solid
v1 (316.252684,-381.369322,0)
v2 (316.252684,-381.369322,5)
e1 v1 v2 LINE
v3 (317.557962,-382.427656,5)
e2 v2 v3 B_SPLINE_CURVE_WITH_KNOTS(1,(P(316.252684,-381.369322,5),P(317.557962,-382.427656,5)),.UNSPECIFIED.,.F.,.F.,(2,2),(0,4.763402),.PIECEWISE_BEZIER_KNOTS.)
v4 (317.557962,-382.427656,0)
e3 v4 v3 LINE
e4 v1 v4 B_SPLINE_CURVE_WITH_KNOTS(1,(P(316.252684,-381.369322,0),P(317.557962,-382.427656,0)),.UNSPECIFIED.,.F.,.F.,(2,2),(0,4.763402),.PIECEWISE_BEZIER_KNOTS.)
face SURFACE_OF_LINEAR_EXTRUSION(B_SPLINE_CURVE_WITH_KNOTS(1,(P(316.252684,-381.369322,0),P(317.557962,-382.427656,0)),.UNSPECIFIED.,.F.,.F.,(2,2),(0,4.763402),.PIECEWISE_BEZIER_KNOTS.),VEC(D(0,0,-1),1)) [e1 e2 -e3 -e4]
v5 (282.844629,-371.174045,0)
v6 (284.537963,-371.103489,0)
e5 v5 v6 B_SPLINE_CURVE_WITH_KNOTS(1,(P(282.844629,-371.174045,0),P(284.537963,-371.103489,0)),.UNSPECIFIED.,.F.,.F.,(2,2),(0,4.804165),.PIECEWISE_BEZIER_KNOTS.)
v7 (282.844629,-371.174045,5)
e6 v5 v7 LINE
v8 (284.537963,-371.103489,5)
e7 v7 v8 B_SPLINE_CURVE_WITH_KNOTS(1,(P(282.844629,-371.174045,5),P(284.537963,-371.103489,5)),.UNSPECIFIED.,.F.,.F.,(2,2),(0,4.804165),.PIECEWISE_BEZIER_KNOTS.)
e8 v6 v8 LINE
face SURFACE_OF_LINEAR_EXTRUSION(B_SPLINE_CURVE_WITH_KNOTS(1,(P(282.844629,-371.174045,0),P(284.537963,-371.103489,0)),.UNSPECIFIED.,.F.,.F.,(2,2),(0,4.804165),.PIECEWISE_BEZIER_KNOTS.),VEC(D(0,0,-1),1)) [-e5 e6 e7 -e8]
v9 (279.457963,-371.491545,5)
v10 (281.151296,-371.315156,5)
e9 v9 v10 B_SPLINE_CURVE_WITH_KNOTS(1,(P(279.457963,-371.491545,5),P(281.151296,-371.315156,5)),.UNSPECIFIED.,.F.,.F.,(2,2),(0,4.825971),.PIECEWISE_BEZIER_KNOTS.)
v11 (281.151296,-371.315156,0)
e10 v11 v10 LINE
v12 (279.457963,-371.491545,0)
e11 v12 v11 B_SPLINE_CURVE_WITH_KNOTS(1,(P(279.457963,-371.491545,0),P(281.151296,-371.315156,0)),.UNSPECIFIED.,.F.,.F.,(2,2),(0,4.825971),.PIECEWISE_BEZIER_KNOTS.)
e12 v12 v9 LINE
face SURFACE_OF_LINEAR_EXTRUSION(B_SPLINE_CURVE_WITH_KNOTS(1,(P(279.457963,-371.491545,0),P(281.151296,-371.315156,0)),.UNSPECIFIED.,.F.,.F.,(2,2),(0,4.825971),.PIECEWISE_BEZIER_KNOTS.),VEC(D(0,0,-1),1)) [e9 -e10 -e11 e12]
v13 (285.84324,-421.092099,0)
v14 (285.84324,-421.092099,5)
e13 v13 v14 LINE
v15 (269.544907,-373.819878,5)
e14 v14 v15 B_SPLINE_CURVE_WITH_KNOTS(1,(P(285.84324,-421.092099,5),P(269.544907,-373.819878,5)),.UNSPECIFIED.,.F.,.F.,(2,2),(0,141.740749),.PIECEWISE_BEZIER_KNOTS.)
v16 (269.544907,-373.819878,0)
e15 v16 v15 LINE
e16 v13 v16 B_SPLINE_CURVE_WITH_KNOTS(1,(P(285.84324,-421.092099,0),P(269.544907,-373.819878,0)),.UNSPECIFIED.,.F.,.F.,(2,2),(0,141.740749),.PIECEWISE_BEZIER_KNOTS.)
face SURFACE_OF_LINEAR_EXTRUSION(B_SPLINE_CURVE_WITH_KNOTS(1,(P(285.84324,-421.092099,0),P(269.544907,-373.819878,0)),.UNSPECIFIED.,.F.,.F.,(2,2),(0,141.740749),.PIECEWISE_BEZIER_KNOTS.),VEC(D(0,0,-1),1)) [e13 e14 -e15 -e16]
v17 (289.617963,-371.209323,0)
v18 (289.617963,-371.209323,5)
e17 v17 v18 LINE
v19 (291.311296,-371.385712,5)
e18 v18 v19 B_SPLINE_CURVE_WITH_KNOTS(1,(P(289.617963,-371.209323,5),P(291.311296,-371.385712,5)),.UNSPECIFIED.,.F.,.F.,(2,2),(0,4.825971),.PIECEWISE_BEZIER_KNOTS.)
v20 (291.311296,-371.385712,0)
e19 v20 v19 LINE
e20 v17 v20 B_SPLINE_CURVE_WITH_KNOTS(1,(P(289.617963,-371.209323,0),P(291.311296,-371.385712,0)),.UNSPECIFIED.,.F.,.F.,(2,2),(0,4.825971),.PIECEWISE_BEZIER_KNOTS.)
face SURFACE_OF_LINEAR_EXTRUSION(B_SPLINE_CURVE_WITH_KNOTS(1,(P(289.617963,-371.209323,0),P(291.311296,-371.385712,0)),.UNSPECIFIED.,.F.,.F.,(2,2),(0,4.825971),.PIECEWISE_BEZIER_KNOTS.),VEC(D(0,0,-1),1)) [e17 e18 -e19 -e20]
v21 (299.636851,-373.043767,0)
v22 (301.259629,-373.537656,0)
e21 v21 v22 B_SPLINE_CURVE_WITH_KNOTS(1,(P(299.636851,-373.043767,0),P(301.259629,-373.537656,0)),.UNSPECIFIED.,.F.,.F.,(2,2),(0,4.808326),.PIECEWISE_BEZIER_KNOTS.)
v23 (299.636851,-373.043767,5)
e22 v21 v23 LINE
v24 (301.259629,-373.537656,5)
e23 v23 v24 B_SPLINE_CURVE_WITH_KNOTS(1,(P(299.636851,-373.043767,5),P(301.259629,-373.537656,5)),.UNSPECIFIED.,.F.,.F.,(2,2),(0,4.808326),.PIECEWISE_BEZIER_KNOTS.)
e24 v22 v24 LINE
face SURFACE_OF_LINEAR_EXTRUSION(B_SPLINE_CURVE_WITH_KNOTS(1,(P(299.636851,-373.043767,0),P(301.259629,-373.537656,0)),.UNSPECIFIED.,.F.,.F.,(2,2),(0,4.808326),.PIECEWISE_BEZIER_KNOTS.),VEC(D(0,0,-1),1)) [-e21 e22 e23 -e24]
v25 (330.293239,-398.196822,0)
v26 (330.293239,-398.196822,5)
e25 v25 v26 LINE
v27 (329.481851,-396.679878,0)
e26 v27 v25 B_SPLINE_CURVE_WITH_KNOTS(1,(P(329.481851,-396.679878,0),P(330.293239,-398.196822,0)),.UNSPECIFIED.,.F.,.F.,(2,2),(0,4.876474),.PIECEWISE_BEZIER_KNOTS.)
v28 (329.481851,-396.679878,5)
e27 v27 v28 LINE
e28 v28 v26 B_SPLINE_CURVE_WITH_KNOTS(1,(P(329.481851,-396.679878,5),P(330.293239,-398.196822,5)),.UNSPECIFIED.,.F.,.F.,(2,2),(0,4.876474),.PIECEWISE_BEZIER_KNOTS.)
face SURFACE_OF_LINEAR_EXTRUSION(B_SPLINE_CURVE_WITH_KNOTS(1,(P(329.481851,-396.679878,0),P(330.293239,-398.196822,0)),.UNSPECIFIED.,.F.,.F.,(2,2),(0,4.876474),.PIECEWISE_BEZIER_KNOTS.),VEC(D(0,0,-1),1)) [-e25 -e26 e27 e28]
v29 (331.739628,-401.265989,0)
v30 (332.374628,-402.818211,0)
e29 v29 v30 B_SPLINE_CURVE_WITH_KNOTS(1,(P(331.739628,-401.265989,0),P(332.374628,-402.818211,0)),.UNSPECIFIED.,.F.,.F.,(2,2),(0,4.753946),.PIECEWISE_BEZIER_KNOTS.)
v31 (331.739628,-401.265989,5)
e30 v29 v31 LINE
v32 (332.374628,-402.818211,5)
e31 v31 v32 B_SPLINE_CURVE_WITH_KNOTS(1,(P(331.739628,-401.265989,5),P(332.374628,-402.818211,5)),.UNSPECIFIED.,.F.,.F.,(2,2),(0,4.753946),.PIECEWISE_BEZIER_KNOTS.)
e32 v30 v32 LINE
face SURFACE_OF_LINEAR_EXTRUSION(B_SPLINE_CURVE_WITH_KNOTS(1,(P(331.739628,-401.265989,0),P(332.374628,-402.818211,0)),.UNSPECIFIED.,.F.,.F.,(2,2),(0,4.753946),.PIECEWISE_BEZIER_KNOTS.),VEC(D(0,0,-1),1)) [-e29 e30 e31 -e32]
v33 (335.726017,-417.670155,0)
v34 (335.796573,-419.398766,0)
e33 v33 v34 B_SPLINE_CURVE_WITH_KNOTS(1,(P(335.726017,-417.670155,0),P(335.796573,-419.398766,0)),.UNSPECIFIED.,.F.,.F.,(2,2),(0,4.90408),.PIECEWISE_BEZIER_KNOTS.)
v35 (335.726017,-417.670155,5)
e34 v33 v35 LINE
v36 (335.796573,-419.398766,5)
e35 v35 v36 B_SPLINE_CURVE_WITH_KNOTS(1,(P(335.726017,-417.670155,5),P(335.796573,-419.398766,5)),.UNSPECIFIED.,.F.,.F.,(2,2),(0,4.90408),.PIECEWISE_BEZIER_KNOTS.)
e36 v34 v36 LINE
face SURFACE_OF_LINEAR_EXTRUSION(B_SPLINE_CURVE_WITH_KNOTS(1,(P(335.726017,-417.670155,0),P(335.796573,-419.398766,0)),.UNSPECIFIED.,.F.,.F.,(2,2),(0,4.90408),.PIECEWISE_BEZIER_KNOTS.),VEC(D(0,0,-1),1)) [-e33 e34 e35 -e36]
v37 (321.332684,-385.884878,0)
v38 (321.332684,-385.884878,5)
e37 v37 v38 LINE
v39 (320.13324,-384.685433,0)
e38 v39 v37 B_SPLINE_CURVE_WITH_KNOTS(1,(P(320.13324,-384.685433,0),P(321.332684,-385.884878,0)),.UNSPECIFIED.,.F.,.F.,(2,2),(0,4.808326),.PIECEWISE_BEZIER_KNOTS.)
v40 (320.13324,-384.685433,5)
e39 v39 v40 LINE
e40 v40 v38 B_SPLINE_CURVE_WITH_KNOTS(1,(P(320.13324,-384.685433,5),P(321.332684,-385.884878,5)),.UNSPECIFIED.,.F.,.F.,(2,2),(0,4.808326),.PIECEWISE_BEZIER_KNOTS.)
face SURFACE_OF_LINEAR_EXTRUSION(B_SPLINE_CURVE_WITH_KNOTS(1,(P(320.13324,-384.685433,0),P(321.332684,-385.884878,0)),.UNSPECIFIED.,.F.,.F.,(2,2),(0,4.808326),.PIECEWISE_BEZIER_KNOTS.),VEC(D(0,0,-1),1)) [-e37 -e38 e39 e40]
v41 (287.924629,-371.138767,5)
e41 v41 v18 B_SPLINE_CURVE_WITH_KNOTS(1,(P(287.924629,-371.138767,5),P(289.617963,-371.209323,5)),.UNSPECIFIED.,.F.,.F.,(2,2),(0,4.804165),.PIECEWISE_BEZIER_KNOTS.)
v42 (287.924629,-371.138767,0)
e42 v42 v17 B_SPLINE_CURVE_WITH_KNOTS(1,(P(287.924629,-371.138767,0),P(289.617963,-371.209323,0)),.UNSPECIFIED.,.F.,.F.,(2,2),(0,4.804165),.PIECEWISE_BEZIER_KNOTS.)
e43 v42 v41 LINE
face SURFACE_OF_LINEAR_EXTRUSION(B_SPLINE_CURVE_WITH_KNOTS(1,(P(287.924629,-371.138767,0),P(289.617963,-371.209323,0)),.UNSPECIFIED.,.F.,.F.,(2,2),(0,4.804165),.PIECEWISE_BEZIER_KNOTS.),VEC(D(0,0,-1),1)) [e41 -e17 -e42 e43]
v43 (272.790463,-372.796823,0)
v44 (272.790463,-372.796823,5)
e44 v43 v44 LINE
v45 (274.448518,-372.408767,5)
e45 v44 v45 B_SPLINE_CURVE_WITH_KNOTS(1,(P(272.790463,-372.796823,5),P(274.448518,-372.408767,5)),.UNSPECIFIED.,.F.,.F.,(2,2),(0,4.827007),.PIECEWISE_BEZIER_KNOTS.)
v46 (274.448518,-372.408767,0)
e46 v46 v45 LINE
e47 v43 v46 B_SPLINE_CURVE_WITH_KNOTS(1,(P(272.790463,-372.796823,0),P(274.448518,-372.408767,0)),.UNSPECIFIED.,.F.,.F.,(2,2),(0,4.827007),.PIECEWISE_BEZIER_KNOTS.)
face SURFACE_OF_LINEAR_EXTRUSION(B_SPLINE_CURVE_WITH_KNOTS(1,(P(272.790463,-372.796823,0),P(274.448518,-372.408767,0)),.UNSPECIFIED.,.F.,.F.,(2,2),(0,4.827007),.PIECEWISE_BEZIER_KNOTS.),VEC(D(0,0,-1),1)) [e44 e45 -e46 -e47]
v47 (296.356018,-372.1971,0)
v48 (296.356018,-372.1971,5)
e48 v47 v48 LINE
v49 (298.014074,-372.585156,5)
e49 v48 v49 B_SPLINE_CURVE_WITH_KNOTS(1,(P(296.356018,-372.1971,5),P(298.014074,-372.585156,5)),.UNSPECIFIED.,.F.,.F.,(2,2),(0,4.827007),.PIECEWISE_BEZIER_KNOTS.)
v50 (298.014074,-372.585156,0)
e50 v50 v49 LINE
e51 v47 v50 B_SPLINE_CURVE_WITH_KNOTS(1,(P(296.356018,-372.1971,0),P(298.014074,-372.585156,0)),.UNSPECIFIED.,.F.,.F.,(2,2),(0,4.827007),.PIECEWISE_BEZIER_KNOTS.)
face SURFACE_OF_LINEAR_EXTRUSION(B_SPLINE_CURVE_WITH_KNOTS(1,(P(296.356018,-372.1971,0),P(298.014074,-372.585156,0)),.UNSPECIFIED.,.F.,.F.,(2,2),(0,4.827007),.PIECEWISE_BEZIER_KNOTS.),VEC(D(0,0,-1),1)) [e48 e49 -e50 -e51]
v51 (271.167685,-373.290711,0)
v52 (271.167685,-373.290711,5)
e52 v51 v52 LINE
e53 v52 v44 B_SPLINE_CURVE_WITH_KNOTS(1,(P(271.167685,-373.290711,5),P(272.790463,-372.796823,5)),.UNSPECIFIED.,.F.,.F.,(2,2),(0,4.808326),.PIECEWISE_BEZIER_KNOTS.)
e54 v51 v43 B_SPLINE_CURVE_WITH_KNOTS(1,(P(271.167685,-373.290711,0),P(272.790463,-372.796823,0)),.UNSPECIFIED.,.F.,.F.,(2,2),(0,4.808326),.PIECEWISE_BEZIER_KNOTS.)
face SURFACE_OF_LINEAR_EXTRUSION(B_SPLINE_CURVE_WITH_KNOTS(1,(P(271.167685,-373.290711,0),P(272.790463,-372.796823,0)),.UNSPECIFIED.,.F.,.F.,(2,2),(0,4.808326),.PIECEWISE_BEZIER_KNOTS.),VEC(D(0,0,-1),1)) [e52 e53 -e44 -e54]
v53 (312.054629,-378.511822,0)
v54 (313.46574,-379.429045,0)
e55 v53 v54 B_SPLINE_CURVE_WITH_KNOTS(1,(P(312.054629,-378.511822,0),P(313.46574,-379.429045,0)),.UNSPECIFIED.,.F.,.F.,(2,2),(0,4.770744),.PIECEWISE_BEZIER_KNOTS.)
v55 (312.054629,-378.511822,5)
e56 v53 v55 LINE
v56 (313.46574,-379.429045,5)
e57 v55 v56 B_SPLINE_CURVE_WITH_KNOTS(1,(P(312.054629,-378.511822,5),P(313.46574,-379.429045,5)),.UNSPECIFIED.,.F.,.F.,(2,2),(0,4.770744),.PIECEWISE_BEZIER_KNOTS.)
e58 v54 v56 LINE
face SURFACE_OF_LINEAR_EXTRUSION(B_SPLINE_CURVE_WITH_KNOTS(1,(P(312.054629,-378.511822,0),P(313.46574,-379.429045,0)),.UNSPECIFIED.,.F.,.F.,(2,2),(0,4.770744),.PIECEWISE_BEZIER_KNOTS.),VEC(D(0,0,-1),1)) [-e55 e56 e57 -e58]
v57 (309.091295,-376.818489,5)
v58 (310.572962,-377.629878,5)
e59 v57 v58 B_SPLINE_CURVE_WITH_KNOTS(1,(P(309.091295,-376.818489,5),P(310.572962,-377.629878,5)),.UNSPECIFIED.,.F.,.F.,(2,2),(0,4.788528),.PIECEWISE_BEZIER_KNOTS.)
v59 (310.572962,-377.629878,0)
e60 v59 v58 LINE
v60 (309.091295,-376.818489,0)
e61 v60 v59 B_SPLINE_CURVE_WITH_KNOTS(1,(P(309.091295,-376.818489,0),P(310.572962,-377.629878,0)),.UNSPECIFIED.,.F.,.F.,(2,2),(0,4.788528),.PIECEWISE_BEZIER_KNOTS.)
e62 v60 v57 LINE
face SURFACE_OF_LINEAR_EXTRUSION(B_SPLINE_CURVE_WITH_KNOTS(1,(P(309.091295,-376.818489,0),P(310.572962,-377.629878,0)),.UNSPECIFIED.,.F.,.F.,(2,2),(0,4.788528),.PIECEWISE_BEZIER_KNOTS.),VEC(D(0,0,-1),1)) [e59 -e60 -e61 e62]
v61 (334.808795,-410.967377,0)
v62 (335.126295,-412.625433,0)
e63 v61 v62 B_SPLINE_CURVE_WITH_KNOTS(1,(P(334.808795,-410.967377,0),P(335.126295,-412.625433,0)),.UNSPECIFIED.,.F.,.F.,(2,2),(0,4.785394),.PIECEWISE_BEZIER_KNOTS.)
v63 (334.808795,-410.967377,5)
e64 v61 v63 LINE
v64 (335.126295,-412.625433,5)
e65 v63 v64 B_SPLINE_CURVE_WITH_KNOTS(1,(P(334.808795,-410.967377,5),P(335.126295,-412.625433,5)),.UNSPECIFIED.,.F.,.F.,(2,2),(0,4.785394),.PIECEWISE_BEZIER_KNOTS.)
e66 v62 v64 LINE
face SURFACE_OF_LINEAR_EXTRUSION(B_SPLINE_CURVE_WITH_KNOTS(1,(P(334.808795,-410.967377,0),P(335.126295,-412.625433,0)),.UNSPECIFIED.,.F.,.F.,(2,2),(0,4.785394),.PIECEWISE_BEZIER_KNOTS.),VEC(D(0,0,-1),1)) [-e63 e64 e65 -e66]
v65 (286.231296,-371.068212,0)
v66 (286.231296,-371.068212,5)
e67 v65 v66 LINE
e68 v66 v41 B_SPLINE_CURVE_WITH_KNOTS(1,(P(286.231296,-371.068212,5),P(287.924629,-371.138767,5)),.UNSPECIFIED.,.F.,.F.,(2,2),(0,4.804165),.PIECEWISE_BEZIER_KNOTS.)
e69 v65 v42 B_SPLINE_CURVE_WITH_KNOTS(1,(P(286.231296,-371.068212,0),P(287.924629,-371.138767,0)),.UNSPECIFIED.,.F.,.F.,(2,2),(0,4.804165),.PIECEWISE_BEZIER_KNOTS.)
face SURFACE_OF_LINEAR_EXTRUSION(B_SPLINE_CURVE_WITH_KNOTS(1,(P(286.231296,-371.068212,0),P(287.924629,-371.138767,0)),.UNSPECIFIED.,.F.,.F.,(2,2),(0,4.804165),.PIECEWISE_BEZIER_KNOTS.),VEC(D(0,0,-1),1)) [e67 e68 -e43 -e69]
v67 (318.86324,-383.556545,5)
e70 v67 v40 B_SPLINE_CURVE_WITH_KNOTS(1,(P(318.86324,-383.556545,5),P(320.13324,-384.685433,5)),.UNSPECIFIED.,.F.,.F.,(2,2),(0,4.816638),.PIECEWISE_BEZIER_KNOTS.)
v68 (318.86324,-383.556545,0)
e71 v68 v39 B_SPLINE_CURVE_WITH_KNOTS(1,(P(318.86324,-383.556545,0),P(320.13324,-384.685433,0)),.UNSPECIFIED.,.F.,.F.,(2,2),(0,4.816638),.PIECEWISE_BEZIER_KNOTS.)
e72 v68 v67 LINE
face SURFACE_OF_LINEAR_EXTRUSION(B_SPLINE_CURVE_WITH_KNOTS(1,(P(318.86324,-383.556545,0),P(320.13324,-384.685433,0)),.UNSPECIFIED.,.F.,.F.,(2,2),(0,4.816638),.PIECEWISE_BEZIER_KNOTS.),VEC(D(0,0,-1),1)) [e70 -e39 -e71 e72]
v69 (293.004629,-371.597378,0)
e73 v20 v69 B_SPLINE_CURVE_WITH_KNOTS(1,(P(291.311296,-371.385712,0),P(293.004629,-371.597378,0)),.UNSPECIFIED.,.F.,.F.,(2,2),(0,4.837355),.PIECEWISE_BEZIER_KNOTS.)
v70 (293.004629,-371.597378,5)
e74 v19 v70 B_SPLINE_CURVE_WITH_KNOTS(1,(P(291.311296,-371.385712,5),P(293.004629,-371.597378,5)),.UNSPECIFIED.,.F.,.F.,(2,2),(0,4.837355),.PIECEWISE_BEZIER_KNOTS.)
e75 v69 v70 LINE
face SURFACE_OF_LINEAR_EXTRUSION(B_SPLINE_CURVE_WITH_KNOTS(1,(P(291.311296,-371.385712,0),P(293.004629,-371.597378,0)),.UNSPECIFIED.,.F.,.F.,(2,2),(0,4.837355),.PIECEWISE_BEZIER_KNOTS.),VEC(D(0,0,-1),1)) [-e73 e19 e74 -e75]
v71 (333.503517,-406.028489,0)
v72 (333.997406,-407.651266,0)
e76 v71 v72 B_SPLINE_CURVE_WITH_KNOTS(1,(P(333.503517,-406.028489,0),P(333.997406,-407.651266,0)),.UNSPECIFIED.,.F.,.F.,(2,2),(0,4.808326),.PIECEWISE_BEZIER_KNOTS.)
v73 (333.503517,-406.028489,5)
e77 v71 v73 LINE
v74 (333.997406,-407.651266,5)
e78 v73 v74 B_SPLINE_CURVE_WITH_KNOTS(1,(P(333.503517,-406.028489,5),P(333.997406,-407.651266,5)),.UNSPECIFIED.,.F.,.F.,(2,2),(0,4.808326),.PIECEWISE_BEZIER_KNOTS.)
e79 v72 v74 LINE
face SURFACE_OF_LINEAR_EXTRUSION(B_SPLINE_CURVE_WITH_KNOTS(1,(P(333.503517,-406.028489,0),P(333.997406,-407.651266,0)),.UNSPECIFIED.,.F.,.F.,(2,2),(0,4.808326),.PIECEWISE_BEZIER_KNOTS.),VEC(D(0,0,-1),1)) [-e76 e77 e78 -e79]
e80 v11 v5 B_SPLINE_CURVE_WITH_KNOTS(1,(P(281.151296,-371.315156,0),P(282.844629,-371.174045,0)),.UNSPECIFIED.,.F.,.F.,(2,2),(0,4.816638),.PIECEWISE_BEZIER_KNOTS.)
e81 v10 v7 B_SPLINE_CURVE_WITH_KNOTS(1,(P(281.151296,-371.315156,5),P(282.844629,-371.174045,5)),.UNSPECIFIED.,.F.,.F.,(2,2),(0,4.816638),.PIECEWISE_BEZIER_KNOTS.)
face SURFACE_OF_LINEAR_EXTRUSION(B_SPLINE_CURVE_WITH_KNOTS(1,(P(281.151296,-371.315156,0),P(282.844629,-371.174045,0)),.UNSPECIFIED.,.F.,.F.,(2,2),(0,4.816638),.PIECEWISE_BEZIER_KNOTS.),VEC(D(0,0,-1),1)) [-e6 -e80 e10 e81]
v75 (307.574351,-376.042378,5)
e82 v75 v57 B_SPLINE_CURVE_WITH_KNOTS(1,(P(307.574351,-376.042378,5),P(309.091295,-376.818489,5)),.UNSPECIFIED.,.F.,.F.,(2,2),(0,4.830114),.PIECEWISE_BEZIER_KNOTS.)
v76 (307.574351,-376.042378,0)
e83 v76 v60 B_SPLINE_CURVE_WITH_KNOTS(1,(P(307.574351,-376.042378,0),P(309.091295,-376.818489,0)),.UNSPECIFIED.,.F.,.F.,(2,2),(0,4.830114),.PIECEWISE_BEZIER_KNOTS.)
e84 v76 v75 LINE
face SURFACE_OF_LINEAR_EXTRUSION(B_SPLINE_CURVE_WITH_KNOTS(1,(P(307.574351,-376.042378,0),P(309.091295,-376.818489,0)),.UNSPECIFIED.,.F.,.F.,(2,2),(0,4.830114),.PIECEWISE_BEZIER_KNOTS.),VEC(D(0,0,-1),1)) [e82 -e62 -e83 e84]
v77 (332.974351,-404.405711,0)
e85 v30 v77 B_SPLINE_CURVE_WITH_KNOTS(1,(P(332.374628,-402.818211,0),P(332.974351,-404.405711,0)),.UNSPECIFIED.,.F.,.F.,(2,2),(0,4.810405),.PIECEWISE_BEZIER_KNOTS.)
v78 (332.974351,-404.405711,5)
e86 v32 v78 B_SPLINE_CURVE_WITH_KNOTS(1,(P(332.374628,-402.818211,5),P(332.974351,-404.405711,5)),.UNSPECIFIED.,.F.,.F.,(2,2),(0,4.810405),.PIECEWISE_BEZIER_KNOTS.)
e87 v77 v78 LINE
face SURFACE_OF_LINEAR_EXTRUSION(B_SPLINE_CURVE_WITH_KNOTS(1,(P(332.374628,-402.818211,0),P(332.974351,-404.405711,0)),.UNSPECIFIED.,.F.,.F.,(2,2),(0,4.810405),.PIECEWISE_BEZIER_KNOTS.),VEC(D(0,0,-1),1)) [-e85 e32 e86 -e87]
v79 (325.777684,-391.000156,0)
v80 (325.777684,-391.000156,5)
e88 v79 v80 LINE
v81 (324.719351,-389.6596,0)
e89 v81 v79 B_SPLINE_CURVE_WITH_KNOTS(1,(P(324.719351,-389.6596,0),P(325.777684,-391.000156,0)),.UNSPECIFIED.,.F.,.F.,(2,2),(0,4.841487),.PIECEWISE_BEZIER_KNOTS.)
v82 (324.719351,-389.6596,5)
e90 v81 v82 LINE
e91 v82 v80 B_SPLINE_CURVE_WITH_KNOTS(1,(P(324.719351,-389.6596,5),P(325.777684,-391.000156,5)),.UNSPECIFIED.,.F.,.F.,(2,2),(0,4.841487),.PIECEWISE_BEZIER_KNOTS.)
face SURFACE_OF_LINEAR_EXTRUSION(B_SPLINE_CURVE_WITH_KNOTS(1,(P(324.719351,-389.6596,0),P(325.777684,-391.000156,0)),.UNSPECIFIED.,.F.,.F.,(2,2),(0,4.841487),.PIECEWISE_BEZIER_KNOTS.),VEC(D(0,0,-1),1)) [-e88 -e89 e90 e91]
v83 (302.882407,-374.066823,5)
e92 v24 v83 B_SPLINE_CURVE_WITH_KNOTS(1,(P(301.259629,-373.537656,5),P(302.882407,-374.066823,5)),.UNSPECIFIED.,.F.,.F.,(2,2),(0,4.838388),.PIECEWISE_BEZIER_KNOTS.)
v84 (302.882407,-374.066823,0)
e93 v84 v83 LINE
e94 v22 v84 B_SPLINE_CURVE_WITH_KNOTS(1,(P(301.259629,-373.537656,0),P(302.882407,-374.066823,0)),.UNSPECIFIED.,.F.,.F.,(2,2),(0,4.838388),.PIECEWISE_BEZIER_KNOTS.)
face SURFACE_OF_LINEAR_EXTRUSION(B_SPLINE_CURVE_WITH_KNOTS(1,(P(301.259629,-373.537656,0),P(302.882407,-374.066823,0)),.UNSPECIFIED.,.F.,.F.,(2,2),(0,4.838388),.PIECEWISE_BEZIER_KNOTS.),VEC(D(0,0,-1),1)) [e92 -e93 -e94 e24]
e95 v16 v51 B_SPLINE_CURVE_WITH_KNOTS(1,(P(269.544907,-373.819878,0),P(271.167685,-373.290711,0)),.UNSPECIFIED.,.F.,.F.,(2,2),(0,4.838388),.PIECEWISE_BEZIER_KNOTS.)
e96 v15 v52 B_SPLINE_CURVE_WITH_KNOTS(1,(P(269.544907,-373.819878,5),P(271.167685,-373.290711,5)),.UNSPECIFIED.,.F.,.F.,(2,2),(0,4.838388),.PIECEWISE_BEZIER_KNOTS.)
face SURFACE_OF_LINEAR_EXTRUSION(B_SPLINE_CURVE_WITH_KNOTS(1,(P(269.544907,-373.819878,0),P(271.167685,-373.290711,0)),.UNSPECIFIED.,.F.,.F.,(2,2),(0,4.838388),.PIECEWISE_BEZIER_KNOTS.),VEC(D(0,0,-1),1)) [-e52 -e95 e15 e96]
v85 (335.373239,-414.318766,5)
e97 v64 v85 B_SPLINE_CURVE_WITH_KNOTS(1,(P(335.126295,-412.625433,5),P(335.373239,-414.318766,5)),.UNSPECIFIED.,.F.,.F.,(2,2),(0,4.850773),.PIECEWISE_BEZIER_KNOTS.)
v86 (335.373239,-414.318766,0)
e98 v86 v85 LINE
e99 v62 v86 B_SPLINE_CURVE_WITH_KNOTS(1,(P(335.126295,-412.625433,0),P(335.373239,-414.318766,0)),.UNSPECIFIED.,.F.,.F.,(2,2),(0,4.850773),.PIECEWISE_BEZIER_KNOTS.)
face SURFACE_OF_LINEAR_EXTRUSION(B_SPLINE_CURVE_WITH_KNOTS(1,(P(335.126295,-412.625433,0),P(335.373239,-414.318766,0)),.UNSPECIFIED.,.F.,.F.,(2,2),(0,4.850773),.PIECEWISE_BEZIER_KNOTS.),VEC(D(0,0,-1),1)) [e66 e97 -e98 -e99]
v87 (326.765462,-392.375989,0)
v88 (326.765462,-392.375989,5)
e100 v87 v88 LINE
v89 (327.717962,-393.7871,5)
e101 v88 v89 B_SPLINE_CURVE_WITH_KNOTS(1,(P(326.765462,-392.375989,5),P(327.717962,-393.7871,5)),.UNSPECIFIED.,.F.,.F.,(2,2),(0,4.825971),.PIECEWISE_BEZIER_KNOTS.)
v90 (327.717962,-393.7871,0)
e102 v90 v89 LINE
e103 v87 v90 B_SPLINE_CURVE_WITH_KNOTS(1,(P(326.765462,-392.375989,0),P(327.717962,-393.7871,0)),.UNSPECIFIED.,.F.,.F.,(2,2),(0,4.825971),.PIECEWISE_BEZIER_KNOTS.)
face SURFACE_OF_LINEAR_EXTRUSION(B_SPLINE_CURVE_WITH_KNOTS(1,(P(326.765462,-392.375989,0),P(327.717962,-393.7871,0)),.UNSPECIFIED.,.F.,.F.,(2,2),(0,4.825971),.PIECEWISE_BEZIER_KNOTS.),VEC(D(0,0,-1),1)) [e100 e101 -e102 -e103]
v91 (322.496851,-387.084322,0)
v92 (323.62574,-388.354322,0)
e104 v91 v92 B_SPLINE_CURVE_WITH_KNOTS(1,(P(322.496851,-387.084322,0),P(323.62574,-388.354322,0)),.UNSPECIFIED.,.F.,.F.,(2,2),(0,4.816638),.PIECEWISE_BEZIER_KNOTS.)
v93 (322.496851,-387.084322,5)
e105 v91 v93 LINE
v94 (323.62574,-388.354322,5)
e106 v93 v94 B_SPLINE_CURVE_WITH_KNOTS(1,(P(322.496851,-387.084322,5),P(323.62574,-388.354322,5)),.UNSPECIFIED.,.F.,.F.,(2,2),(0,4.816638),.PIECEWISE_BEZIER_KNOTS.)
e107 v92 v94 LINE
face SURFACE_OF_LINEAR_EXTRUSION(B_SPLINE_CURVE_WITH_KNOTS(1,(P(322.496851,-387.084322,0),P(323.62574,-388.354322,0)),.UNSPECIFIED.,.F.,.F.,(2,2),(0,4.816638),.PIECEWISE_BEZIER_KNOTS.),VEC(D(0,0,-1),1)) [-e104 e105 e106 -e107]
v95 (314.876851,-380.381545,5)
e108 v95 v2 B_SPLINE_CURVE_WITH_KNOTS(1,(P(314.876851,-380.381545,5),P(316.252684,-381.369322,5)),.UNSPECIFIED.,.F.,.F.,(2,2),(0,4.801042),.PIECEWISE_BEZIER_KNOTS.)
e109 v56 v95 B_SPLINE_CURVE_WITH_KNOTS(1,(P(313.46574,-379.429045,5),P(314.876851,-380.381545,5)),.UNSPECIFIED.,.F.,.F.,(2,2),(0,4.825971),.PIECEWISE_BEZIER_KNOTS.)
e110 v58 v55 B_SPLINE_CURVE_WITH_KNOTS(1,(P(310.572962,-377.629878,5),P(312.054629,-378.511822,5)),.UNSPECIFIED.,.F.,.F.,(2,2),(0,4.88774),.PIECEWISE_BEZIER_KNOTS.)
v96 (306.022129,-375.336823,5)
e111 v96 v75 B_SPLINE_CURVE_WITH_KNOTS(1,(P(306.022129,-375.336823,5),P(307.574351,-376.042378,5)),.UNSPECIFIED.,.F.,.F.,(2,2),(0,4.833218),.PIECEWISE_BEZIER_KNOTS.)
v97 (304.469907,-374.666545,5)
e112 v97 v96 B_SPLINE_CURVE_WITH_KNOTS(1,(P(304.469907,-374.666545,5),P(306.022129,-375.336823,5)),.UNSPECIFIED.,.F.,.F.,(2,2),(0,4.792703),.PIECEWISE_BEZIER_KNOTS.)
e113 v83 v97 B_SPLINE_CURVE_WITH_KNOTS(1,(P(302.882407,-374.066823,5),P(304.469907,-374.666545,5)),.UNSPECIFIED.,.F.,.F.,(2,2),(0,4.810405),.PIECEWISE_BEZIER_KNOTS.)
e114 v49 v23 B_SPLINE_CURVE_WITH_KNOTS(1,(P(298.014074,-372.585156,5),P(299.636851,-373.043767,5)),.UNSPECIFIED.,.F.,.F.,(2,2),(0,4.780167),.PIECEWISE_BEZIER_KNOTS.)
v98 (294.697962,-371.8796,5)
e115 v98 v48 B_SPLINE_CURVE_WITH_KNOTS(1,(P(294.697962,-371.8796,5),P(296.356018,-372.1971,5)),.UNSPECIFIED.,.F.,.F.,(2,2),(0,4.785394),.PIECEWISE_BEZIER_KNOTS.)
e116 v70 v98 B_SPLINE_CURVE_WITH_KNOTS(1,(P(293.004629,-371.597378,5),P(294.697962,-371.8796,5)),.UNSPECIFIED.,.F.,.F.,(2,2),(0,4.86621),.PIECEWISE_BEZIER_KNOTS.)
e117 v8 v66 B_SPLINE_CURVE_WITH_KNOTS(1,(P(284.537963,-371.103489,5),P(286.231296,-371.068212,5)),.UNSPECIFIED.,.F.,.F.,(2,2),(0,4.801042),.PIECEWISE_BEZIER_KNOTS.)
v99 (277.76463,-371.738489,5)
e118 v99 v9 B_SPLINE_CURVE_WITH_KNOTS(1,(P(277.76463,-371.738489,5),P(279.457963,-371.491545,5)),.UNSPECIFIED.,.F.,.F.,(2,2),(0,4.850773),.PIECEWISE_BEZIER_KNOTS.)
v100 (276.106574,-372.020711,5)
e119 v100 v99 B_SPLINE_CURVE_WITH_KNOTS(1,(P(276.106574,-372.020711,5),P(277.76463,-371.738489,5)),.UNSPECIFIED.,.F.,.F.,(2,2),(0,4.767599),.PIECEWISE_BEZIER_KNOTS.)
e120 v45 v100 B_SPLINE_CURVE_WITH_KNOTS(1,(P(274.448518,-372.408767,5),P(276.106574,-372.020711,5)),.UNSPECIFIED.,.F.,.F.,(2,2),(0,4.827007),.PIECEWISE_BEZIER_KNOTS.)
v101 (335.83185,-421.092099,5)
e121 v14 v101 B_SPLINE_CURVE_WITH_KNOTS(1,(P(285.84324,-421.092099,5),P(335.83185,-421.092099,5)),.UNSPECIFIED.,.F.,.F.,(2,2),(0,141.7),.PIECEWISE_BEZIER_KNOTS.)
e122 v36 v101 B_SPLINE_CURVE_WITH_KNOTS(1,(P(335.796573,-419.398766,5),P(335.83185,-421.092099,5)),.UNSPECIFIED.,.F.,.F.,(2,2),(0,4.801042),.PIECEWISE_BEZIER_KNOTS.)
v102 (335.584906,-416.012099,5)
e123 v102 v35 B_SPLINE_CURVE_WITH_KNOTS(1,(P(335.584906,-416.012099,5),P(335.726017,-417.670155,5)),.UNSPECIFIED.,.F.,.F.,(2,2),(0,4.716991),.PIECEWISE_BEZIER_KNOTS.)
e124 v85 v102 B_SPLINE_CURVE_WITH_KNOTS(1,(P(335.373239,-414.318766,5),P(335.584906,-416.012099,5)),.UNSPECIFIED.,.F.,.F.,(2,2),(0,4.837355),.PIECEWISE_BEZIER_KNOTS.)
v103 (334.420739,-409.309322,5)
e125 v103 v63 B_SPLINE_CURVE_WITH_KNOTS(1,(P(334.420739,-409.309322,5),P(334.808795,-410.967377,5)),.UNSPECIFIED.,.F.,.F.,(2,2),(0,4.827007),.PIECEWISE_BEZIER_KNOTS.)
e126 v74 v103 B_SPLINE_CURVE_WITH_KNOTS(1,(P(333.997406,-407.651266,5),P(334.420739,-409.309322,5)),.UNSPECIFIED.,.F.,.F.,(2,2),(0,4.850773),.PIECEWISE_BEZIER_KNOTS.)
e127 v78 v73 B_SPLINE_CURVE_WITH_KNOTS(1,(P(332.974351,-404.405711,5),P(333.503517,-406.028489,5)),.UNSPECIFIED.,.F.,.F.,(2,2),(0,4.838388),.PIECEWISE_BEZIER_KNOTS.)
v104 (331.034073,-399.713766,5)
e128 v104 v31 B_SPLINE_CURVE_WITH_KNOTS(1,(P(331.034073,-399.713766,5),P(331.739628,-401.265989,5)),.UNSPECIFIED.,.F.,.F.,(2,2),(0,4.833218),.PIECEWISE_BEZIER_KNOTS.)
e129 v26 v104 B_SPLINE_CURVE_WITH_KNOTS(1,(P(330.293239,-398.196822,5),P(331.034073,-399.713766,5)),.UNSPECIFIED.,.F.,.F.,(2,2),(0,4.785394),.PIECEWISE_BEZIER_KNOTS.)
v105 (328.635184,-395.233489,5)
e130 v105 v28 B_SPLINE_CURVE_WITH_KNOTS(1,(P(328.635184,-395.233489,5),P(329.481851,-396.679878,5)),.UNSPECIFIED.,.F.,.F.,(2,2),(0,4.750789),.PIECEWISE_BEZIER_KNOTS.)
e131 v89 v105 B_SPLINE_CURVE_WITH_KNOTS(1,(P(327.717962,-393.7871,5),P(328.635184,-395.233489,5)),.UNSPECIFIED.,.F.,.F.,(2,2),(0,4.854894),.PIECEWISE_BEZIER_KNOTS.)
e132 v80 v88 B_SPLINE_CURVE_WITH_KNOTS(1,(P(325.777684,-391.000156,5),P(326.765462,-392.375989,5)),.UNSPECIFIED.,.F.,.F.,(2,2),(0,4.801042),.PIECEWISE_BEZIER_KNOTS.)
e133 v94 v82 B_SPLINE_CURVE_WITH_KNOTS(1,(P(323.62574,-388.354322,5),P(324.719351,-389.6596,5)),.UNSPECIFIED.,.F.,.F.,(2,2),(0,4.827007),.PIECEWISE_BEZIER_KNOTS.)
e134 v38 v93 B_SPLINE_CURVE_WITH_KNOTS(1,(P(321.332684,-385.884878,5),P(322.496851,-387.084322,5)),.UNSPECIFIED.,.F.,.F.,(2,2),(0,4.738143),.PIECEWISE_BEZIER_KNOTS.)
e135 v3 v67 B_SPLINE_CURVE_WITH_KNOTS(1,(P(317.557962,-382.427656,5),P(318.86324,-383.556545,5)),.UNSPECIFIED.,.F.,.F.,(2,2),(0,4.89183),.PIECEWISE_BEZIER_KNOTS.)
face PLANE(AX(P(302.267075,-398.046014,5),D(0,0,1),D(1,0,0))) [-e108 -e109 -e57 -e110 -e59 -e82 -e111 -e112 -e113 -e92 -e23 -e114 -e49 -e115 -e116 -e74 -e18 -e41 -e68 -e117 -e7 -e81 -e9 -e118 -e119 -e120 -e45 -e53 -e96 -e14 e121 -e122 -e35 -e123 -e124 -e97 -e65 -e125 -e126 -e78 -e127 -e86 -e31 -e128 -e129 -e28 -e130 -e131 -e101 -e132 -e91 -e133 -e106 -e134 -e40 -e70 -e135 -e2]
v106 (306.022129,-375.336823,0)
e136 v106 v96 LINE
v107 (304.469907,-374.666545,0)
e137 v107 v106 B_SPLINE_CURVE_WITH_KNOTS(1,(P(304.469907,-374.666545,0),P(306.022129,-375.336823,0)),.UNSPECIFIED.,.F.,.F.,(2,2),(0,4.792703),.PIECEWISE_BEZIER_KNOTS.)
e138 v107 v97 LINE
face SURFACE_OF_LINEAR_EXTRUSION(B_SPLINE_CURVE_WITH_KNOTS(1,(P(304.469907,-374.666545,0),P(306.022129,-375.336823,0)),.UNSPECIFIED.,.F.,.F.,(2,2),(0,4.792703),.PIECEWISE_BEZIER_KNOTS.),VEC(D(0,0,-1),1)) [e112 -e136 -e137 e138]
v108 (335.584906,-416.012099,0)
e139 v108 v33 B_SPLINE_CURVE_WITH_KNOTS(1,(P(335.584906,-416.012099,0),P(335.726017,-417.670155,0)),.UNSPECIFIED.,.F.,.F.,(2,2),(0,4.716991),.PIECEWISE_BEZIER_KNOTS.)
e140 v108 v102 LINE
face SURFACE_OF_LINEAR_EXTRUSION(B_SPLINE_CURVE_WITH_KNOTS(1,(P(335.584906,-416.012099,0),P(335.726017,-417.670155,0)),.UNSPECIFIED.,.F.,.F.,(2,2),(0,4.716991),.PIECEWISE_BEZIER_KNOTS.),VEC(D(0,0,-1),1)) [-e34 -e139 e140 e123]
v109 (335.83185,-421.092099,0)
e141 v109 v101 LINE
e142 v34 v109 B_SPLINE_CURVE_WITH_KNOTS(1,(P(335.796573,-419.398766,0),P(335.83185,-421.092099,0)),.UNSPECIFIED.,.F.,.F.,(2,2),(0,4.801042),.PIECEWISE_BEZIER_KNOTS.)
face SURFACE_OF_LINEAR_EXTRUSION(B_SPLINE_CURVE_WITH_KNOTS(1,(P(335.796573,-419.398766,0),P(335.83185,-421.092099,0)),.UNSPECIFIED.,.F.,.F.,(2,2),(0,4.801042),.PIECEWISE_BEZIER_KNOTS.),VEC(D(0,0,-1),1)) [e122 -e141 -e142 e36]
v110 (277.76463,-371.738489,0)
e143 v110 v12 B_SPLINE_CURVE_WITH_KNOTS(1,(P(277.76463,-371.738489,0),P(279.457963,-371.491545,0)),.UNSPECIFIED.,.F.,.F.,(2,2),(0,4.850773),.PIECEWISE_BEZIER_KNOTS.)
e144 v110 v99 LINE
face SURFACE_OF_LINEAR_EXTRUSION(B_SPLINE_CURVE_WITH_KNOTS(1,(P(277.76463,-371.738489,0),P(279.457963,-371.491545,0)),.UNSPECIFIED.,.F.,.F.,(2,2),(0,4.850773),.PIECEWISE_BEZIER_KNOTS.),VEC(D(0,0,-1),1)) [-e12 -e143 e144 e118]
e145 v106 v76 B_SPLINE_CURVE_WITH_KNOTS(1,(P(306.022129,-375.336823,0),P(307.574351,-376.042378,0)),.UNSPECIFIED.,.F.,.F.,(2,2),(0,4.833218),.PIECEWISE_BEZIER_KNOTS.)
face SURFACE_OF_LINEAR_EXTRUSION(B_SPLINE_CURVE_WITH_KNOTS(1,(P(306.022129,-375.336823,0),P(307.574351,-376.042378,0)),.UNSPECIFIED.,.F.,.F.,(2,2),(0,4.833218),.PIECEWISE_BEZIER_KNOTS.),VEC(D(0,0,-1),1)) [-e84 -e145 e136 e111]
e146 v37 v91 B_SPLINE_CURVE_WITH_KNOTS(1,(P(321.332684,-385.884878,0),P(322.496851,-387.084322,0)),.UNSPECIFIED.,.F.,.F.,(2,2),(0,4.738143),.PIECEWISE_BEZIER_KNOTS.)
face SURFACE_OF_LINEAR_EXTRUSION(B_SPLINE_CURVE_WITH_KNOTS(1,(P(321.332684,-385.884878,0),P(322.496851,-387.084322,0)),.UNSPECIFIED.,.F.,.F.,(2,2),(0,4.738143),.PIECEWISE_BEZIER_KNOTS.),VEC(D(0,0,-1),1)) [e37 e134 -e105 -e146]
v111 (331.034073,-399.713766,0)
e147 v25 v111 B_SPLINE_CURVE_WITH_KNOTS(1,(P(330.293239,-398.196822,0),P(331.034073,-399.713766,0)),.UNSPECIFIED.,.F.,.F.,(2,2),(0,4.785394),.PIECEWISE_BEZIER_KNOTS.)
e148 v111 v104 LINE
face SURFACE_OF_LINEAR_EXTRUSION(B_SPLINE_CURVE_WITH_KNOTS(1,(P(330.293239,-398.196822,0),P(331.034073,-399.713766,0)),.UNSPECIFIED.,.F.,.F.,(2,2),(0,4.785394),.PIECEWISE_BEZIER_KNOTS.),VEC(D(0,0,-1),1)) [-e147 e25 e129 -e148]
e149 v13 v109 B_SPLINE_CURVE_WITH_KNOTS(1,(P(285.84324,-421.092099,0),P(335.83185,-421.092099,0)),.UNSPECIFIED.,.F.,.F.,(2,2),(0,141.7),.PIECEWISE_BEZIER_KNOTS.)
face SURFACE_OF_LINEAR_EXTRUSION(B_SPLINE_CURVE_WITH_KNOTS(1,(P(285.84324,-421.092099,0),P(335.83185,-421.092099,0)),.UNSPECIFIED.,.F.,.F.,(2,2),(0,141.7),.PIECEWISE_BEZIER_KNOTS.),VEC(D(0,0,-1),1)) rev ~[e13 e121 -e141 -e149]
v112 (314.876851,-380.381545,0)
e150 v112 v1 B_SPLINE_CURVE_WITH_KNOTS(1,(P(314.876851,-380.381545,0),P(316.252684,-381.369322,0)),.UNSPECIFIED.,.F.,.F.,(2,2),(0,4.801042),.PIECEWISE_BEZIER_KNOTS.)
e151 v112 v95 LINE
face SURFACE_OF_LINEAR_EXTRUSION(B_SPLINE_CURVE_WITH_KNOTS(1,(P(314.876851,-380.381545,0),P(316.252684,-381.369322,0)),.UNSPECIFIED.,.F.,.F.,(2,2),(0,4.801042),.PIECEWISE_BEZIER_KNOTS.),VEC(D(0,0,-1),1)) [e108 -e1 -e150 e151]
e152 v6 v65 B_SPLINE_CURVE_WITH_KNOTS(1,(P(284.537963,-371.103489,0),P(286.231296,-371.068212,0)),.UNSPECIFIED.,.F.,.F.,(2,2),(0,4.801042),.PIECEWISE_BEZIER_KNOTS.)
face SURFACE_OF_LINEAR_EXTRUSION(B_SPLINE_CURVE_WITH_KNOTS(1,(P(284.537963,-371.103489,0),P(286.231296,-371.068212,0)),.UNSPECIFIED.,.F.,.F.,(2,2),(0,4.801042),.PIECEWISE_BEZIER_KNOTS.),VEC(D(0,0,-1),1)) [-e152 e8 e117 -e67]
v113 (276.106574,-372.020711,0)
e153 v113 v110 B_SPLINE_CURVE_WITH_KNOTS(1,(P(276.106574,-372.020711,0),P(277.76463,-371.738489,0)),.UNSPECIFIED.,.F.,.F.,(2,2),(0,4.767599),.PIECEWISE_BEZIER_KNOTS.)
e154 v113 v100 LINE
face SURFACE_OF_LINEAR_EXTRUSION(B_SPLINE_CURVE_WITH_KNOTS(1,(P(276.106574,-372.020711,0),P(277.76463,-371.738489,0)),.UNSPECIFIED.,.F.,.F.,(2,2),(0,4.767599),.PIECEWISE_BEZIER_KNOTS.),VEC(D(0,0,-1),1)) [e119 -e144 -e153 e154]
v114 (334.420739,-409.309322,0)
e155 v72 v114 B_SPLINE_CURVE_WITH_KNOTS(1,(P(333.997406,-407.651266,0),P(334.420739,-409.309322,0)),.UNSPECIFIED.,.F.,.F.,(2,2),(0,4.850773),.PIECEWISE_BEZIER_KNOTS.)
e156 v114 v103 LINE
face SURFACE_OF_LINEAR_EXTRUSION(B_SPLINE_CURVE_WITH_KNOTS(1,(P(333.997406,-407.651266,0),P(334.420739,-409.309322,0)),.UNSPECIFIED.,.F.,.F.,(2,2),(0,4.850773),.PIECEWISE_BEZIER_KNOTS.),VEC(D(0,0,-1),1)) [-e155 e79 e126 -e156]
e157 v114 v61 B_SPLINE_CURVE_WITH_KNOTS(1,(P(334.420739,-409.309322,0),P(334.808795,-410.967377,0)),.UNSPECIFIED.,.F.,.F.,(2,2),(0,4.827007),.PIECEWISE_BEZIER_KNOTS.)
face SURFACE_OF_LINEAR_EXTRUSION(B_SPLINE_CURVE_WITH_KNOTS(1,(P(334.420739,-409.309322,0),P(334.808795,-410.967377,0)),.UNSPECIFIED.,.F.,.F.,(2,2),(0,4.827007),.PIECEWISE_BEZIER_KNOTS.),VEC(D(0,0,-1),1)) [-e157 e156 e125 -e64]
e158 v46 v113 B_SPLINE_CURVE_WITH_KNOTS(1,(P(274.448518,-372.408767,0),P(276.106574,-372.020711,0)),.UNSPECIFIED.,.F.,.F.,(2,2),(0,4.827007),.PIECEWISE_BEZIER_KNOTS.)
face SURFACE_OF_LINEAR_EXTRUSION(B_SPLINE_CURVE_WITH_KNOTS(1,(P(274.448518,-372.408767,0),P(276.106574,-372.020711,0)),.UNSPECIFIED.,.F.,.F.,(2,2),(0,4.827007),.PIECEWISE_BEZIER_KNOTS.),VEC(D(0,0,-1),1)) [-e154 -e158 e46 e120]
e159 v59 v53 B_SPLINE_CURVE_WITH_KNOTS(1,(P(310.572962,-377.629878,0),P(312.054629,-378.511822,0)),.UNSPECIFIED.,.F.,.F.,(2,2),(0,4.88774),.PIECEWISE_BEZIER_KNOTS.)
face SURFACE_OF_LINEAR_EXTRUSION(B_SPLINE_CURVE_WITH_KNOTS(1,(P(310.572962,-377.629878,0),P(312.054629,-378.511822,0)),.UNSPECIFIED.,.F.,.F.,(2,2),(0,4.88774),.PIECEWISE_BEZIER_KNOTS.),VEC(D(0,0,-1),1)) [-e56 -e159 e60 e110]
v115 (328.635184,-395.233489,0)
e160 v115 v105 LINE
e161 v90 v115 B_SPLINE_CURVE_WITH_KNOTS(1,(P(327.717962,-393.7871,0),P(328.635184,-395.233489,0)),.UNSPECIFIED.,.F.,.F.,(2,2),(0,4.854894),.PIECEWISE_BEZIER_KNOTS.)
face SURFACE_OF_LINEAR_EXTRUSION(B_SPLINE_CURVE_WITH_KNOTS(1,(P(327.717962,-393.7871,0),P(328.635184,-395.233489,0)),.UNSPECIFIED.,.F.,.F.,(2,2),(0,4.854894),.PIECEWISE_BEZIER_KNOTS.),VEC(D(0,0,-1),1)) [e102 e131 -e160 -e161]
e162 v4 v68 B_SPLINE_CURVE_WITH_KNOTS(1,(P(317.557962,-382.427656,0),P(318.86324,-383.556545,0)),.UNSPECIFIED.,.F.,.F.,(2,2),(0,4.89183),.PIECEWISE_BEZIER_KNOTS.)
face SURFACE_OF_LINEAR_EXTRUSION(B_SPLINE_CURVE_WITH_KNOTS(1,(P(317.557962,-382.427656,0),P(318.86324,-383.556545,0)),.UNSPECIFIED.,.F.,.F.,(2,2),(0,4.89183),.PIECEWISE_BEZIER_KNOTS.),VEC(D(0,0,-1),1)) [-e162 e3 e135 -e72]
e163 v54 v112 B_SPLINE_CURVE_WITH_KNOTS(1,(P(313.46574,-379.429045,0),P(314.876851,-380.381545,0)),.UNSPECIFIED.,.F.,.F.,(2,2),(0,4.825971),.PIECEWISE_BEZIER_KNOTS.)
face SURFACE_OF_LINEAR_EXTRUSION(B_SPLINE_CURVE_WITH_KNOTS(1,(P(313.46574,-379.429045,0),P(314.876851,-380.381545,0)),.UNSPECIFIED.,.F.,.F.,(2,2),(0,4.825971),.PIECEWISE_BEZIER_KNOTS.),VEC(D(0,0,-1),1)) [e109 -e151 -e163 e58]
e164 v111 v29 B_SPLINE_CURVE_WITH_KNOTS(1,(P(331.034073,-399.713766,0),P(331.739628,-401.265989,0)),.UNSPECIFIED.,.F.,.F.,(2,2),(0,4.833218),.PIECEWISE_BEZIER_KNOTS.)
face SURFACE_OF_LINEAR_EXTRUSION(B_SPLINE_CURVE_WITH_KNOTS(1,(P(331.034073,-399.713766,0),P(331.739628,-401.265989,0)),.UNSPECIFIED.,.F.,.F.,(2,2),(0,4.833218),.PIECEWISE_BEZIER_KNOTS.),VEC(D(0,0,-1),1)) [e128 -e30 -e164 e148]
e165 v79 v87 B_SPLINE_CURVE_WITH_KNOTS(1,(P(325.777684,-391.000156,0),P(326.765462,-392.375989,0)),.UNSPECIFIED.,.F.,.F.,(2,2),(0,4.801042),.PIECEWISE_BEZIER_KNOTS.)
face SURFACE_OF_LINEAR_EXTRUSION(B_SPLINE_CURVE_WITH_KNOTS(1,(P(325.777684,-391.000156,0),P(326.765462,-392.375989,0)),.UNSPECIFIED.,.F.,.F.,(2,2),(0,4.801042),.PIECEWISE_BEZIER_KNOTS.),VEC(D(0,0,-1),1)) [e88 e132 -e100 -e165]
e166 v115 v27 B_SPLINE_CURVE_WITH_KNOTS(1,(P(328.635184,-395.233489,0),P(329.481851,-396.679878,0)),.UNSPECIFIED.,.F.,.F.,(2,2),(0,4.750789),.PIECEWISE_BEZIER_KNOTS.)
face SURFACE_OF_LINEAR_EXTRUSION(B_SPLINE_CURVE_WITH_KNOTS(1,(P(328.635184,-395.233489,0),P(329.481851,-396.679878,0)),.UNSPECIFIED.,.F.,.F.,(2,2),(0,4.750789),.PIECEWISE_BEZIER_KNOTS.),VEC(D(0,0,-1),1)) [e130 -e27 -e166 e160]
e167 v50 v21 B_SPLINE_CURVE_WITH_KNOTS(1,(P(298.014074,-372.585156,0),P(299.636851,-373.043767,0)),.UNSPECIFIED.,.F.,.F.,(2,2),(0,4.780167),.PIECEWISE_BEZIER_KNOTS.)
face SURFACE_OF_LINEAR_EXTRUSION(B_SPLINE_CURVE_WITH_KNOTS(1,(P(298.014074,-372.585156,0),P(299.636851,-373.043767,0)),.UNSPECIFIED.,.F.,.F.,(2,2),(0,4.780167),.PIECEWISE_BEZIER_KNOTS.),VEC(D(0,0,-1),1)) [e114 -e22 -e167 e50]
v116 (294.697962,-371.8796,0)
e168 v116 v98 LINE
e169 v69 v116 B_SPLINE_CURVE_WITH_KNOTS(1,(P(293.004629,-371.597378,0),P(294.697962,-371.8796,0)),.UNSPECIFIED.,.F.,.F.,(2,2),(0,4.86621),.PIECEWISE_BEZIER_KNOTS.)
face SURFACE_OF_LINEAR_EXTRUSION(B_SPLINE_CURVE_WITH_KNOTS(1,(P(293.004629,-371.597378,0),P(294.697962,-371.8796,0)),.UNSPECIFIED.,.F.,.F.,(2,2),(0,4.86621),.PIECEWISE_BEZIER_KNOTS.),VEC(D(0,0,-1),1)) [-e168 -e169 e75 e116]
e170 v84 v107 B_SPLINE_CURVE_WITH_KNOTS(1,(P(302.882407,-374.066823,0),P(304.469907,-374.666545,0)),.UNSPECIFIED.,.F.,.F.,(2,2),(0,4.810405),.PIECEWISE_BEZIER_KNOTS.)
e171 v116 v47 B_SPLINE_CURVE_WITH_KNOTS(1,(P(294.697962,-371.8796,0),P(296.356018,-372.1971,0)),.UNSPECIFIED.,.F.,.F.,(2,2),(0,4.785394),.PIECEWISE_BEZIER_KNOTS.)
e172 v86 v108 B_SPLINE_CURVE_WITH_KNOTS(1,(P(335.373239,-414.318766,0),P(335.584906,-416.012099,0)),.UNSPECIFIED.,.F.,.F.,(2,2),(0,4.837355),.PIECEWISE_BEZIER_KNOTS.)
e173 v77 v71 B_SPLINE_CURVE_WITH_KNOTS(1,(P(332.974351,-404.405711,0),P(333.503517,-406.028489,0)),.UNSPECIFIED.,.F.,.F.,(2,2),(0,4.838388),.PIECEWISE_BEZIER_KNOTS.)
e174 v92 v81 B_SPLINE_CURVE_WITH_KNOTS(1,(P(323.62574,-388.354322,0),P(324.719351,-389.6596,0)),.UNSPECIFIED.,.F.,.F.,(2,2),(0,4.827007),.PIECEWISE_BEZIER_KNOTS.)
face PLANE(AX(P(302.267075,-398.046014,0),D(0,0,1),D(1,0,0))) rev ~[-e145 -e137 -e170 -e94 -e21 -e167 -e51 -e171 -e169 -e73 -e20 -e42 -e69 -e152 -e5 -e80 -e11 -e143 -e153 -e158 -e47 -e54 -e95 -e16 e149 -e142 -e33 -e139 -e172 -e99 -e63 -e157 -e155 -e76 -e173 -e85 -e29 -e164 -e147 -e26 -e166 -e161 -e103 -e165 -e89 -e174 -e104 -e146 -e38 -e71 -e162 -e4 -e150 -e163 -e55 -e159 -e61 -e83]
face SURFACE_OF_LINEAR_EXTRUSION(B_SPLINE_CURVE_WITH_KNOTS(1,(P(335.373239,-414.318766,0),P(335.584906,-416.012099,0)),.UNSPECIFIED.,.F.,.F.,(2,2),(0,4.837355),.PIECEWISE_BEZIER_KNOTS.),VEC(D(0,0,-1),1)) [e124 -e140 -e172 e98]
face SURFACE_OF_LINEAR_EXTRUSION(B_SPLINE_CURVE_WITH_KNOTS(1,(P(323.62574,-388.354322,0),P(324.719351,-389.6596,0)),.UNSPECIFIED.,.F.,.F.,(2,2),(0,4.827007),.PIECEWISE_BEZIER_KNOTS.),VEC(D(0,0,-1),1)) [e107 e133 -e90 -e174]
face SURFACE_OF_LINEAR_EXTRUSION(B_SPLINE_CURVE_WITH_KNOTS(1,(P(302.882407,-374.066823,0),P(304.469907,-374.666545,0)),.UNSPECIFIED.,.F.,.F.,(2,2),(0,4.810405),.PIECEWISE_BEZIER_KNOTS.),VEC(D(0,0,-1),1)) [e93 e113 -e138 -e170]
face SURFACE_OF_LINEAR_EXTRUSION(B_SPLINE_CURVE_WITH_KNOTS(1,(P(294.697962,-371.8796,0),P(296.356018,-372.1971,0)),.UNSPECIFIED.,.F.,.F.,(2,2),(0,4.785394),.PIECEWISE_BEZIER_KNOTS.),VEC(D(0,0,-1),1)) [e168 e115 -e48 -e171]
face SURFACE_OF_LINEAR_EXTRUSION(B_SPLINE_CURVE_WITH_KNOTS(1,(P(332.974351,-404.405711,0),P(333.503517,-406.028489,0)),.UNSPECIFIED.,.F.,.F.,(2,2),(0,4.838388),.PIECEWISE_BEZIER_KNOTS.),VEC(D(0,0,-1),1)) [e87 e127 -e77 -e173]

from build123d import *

# Parameters (mm, degrees)
PAD_DEPTH = 5


with BuildPart() as part:
    # Sketch006 → Pad (new body)
    with BuildSketch(Plane.XY):
        with BuildLine():
            add(Edge.make_bspline(
                [(285.84324, -421.092099), (335.83185, -421.092099)],
                knots=[0, 0, 141.7, 141.7], degree=1))
            add(Edge.make_bspline(
                [(335.796573, -419.398766), (335.83185, -421.092099)],
                knots=[0, 0, 4.801042, 4.801042], degree=1))
            add(Edge.make_bspline(
                [(335.726017, -417.670155), (335.796573, -419.398766)],
                knots=[0, 0, 4.90408, 4.90408], degree=1))
            add(Edge.make_bspline(
                [(335.584906, -416.012099), (335.726017, -417.670155)],
                knots=[0, 0, 4.716991, 4.716991], degree=1))
            add(Edge.make_bspline(
                [(335.373239, -414.318766), (335.584906, -416.012099)],
                knots=[0, 0, 4.837355, 4.837355], degree=1))
            add(Edge.make_bspline(
                [(335.126295, -412.625433), (335.373239, -414.318766)],
                knots=[0, 0, 4.850773, 4.850773], degree=1))
            add(Edge.make_bspline(
                [(334.808795, -410.967377), (335.126295, -412.625433)],
                knots=[0, 0, 4.785394, 4.785394], degree=1))
            add(Edge.make_bspline(
                [(334.420739, -409.309322), (334.808795, -410.967377)],
                knots=[0, 0, 4.827007, 4.827007], degree=1))
            add(Edge.make_bspline(
                [(333.997406, -407.651266), (334.420739, -409.309322)],
                knots=[0, 0, 4.850773, 4.850773], degree=1))
            add(Edge.make_bspline(
                [(333.503517, -406.028489), (333.997406, -407.651266)],
                knots=[0, 0, 4.808326, 4.808326], degree=1))
            add(Edge.make_bspline(
                [(332.974351, -404.405711), (333.503517, -406.028489)],
                knots=[0, 0, 4.838388, 4.838388], degree=1))
            add(Edge.make_bspline(
                [(332.374628, -402.818211), (332.974351, -404.405711)],
                knots=[0, 0, 4.810405, 4.810405], degree=1))
            add(Edge.make_bspline(
                [(331.739628, -401.265989), (332.374628, -402.818211)],
                knots=[0, 0, 4.753946, 4.753946], degree=1))
            add(Edge.make_bspline(
                [(331.034073, -399.713766), (331.739628, -401.265989)],
                knots=[0, 0, 4.833218, 4.833218], degree=1))
            add(Edge.make_bspline(
                [(330.293239, -398.196822), (331.034073, -399.713766)],
                knots=[0, 0, 4.785394, 4.785394], degree=1))
            add(Edge.make_bspline(
                [(329.481851, -396.679878), (330.293239, -398.196822)],
                knots=[0, 0, 4.876474, 4.876474], degree=1))
            add(Edge.make_bspline(
                [(328.635184, -395.233489), (329.481851, -396.679878)],
                knots=[0, 0, 4.750789, 4.750789], degree=1))
            add(Edge.make_bspline(
                [(327.717962, -393.7871), (328.635184, -395.233489)],
                knots=[0, 0, 4.854894, 4.854894], degree=1))
            add(Edge.make_bspline(
                [(326.765462, -392.375989), (327.717962, -393.7871)],
                knots=[0, 0, 4.825971, 4.825971], degree=1))
            add(Edge.make_bspline(
                [(325.777684, -391.000156), (326.765462, -392.375989)],
                knots=[0, 0, 4.801042, 4.801042], degree=1))
            add(Edge.make_bspline(
                [(324.719351, -389.6596), (325.777684, -391.000156)],
                knots=[0, 0, 4.841487, 4.841487], degree=1))
            add(Edge.make_bspline(
                [(323.62574, -388.354322), (324.719351, -389.6596)],
                knots=[0, 0, 4.827007, 4.827007], degree=1))
            add(Edge.make_bspline(
                [(322.496851, -387.084322), (323.62574, -388.354322)],
                knots=[0, 0, 4.816638, 4.816638], degree=1))
            add(Edge.make_bspline(
                [(321.332684, -385.884878), (322.496851, -387.084322)],
                knots=[0, 0, 4.738143, 4.738143], degree=1))
            add(Edge.make_bspline(
                [(320.13324, -384.685433), (321.332684, -385.884878)],
                knots=[0, 0, 4.808326, 4.808326], degree=1))
            add(Edge.make_bspline(
                [(318.86324, -383.556545), (320.13324, -384.685433)],
                knots=[0, 0, 4.816638, 4.816638], degree=1))
            add(Edge.make_bspline(
                [(317.557962, -382.427656), (318.86324, -383.556545)],
                knots=[0, 0, 4.89183, 4.89183], degree=1))
            add(Edge.make_bspline(
                [(316.252684, -381.369322), (317.557962, -382.427656)],
                knots=[0, 0, 4.763402, 4.763402], degree=1))
            add(Edge.make_bspline(
                [(314.876851, -380.381545), (316.252684, -381.369322)],
                knots=[0, 0, 4.801042, 4.801042], degree=1))
            add(Edge.make_bspline(
                [(313.46574, -379.429045), (314.876851, -380.381545)],
                knots=[0, 0, 4.825971, 4.825971], degree=1))
            add(Edge.make_bspline(
                [(312.054629, -378.511822), (313.46574, -379.429045)],
                knots=[0, 0, 4.770744, 4.770744], degree=1))
            add(Edge.make_bspline(
                [(310.572962, -377.629878), (312.054629, -378.511822)],
                knots=[0, 0, 4.88774, 4.88774], degree=1))
            add(Edge.make_bspline(
                [(309.091295, -376.818489), (310.572962, -377.629878)],
                knots=[0, 0, 4.788528, 4.788528], degree=1))
            add(Edge.make_bspline(
                [(307.574351, -376.042378), (309.091295, -376.818489)],
                knots=[0, 0, 4.830114, 4.830114], degree=1))
            add(Edge.make_bspline(
                [(306.022129, -375.336823), (307.574351, -376.042378)],
                knots=[0, 0, 4.833218, 4.833218], degree=1))
            add(Edge.make_bspline(
                [(304.469907, -374.666545), (306.022129, -375.336823)],
                knots=[0, 0, 4.792703, 4.792703], degree=1))
            add(Edge.make_bspline(
                [(302.882407, -374.066823), (304.469907, -374.666545)],
                knots=[0, 0, 4.810405, 4.810405], degree=1))
            add(Edge.make_bspline(
                [(301.259629, -373.537656), (302.882407, -374.066823)],
                knots=[0, 0, 4.838388, 4.838388], degree=1))
            add(Edge.make_bspline(
                [(299.636851, -373.043767), (301.259629, -373.537656)],
                knots=[0, 0, 4.808326, 4.808326], degree=1))
            add(Edge.make_bspline(
                [(298.014074, -372.585156), (299.636851, -373.043767)],
                knots=[0, 0, 4.780167, 4.780167], degree=1))
            add(Edge.make_bspline(
                [(296.356018, -372.1971), (298.014074, -372.585156)],
                knots=[0, 0, 4.827007, 4.827007], degree=1))
            add(Edge.make_bspline(
                [(294.697962, -371.8796), (296.356018, -372.1971)],
                knots=[0, 0, 4.785394, 4.785394], degree=1))
            add(Edge.make_bspline(
                [(293.004629, -371.597378), (294.697962, -371.8796)],
                knots=[0, 0, 4.86621, 4.86621], degree=1))
            add(Edge.make_bspline(
                [(291.311296, -371.385712), (293.004629, -371.597378)],
                knots=[0, 0, 4.837355, 4.837355], degree=1))
            add(Edge.make_bspline(
                [(289.617963, -371.209323), (291.311296, -371.385712)],
                knots=[0, 0, 4.825971, 4.825971], degree=1))
            add(Edge.make_bspline(
                [(287.924629, -371.138767), (289.617963, -371.209323)],
                knots=[0, 0, 4.804165, 4.804165], degree=1))
            add(Edge.make_bspline(
                [(286.231296, -371.068212), (287.924629, -371.138767)],
                knots=[0, 0, 4.804165, 4.804165], degree=1))
            add(Edge.make_bspline(
                [(284.537963, -371.103489), (286.231296, -371.068212)],
                knots=[0, 0, 4.801042, 4.801042], degree=1))
            add(Edge.make_bspline(
                [(282.844629, -371.174045), (284.537963, -371.103489)],
                knots=[0, 0, 4.804165, 4.804165], degree=1))
            add(Edge.make_bspline(
                [(281.151296, -371.315156), (282.844629, -371.174045)],
                knots=[0, 0, 4.816638, 4.816638], degree=1))
            add(Edge.make_bspline(
                [(279.457963, -371.491545), (281.151296, -371.315156)],
                knots=[0, 0, 4.825971, 4.825971], degree=1))
            add(Edge.make_bspline(
                [(277.76463, -371.738489), (279.457963, -371.491545)],
                knots=[0, 0, 4.850773, 4.850773], degree=1))
            add(Edge.make_bspline(
                [(276.106574, -372.020711), (277.76463, -371.738489)],
                knots=[0, 0, 4.767599, 4.767599], degree=1))
            add(Edge.make_bspline(
                [(274.448518, -372.408767), (276.106574, -372.020711)],
                knots=[0, 0, 4.827007, 4.827007], degree=1))
            add(Edge.make_bspline(
                [(272.790463, -372.796823), (274.448518, -372.408767)],
                knots=[0, 0, 4.827007, 4.827007], degree=1))
            add(Edge.make_bspline(
                [(271.167685, -373.290711), (272.790463, -372.796823)],
                knots=[0, 0, 4.808326, 4.808326], degree=1))
            add(Edge.make_bspline(
                [(269.544907, -373.819878), (271.167685, -373.290711)],
                knots=[0, 0, 4.838388, 4.838388], degree=1))
            add(Edge.make_bspline(
                [(285.84324, -421.092099), (269.544907, -373.819878)],
                knots=[0, 0, 141.740749, 141.740749], degree=1))
        make_face()
    extrude(amount=PAD_DEPTH)


solid = part.part
